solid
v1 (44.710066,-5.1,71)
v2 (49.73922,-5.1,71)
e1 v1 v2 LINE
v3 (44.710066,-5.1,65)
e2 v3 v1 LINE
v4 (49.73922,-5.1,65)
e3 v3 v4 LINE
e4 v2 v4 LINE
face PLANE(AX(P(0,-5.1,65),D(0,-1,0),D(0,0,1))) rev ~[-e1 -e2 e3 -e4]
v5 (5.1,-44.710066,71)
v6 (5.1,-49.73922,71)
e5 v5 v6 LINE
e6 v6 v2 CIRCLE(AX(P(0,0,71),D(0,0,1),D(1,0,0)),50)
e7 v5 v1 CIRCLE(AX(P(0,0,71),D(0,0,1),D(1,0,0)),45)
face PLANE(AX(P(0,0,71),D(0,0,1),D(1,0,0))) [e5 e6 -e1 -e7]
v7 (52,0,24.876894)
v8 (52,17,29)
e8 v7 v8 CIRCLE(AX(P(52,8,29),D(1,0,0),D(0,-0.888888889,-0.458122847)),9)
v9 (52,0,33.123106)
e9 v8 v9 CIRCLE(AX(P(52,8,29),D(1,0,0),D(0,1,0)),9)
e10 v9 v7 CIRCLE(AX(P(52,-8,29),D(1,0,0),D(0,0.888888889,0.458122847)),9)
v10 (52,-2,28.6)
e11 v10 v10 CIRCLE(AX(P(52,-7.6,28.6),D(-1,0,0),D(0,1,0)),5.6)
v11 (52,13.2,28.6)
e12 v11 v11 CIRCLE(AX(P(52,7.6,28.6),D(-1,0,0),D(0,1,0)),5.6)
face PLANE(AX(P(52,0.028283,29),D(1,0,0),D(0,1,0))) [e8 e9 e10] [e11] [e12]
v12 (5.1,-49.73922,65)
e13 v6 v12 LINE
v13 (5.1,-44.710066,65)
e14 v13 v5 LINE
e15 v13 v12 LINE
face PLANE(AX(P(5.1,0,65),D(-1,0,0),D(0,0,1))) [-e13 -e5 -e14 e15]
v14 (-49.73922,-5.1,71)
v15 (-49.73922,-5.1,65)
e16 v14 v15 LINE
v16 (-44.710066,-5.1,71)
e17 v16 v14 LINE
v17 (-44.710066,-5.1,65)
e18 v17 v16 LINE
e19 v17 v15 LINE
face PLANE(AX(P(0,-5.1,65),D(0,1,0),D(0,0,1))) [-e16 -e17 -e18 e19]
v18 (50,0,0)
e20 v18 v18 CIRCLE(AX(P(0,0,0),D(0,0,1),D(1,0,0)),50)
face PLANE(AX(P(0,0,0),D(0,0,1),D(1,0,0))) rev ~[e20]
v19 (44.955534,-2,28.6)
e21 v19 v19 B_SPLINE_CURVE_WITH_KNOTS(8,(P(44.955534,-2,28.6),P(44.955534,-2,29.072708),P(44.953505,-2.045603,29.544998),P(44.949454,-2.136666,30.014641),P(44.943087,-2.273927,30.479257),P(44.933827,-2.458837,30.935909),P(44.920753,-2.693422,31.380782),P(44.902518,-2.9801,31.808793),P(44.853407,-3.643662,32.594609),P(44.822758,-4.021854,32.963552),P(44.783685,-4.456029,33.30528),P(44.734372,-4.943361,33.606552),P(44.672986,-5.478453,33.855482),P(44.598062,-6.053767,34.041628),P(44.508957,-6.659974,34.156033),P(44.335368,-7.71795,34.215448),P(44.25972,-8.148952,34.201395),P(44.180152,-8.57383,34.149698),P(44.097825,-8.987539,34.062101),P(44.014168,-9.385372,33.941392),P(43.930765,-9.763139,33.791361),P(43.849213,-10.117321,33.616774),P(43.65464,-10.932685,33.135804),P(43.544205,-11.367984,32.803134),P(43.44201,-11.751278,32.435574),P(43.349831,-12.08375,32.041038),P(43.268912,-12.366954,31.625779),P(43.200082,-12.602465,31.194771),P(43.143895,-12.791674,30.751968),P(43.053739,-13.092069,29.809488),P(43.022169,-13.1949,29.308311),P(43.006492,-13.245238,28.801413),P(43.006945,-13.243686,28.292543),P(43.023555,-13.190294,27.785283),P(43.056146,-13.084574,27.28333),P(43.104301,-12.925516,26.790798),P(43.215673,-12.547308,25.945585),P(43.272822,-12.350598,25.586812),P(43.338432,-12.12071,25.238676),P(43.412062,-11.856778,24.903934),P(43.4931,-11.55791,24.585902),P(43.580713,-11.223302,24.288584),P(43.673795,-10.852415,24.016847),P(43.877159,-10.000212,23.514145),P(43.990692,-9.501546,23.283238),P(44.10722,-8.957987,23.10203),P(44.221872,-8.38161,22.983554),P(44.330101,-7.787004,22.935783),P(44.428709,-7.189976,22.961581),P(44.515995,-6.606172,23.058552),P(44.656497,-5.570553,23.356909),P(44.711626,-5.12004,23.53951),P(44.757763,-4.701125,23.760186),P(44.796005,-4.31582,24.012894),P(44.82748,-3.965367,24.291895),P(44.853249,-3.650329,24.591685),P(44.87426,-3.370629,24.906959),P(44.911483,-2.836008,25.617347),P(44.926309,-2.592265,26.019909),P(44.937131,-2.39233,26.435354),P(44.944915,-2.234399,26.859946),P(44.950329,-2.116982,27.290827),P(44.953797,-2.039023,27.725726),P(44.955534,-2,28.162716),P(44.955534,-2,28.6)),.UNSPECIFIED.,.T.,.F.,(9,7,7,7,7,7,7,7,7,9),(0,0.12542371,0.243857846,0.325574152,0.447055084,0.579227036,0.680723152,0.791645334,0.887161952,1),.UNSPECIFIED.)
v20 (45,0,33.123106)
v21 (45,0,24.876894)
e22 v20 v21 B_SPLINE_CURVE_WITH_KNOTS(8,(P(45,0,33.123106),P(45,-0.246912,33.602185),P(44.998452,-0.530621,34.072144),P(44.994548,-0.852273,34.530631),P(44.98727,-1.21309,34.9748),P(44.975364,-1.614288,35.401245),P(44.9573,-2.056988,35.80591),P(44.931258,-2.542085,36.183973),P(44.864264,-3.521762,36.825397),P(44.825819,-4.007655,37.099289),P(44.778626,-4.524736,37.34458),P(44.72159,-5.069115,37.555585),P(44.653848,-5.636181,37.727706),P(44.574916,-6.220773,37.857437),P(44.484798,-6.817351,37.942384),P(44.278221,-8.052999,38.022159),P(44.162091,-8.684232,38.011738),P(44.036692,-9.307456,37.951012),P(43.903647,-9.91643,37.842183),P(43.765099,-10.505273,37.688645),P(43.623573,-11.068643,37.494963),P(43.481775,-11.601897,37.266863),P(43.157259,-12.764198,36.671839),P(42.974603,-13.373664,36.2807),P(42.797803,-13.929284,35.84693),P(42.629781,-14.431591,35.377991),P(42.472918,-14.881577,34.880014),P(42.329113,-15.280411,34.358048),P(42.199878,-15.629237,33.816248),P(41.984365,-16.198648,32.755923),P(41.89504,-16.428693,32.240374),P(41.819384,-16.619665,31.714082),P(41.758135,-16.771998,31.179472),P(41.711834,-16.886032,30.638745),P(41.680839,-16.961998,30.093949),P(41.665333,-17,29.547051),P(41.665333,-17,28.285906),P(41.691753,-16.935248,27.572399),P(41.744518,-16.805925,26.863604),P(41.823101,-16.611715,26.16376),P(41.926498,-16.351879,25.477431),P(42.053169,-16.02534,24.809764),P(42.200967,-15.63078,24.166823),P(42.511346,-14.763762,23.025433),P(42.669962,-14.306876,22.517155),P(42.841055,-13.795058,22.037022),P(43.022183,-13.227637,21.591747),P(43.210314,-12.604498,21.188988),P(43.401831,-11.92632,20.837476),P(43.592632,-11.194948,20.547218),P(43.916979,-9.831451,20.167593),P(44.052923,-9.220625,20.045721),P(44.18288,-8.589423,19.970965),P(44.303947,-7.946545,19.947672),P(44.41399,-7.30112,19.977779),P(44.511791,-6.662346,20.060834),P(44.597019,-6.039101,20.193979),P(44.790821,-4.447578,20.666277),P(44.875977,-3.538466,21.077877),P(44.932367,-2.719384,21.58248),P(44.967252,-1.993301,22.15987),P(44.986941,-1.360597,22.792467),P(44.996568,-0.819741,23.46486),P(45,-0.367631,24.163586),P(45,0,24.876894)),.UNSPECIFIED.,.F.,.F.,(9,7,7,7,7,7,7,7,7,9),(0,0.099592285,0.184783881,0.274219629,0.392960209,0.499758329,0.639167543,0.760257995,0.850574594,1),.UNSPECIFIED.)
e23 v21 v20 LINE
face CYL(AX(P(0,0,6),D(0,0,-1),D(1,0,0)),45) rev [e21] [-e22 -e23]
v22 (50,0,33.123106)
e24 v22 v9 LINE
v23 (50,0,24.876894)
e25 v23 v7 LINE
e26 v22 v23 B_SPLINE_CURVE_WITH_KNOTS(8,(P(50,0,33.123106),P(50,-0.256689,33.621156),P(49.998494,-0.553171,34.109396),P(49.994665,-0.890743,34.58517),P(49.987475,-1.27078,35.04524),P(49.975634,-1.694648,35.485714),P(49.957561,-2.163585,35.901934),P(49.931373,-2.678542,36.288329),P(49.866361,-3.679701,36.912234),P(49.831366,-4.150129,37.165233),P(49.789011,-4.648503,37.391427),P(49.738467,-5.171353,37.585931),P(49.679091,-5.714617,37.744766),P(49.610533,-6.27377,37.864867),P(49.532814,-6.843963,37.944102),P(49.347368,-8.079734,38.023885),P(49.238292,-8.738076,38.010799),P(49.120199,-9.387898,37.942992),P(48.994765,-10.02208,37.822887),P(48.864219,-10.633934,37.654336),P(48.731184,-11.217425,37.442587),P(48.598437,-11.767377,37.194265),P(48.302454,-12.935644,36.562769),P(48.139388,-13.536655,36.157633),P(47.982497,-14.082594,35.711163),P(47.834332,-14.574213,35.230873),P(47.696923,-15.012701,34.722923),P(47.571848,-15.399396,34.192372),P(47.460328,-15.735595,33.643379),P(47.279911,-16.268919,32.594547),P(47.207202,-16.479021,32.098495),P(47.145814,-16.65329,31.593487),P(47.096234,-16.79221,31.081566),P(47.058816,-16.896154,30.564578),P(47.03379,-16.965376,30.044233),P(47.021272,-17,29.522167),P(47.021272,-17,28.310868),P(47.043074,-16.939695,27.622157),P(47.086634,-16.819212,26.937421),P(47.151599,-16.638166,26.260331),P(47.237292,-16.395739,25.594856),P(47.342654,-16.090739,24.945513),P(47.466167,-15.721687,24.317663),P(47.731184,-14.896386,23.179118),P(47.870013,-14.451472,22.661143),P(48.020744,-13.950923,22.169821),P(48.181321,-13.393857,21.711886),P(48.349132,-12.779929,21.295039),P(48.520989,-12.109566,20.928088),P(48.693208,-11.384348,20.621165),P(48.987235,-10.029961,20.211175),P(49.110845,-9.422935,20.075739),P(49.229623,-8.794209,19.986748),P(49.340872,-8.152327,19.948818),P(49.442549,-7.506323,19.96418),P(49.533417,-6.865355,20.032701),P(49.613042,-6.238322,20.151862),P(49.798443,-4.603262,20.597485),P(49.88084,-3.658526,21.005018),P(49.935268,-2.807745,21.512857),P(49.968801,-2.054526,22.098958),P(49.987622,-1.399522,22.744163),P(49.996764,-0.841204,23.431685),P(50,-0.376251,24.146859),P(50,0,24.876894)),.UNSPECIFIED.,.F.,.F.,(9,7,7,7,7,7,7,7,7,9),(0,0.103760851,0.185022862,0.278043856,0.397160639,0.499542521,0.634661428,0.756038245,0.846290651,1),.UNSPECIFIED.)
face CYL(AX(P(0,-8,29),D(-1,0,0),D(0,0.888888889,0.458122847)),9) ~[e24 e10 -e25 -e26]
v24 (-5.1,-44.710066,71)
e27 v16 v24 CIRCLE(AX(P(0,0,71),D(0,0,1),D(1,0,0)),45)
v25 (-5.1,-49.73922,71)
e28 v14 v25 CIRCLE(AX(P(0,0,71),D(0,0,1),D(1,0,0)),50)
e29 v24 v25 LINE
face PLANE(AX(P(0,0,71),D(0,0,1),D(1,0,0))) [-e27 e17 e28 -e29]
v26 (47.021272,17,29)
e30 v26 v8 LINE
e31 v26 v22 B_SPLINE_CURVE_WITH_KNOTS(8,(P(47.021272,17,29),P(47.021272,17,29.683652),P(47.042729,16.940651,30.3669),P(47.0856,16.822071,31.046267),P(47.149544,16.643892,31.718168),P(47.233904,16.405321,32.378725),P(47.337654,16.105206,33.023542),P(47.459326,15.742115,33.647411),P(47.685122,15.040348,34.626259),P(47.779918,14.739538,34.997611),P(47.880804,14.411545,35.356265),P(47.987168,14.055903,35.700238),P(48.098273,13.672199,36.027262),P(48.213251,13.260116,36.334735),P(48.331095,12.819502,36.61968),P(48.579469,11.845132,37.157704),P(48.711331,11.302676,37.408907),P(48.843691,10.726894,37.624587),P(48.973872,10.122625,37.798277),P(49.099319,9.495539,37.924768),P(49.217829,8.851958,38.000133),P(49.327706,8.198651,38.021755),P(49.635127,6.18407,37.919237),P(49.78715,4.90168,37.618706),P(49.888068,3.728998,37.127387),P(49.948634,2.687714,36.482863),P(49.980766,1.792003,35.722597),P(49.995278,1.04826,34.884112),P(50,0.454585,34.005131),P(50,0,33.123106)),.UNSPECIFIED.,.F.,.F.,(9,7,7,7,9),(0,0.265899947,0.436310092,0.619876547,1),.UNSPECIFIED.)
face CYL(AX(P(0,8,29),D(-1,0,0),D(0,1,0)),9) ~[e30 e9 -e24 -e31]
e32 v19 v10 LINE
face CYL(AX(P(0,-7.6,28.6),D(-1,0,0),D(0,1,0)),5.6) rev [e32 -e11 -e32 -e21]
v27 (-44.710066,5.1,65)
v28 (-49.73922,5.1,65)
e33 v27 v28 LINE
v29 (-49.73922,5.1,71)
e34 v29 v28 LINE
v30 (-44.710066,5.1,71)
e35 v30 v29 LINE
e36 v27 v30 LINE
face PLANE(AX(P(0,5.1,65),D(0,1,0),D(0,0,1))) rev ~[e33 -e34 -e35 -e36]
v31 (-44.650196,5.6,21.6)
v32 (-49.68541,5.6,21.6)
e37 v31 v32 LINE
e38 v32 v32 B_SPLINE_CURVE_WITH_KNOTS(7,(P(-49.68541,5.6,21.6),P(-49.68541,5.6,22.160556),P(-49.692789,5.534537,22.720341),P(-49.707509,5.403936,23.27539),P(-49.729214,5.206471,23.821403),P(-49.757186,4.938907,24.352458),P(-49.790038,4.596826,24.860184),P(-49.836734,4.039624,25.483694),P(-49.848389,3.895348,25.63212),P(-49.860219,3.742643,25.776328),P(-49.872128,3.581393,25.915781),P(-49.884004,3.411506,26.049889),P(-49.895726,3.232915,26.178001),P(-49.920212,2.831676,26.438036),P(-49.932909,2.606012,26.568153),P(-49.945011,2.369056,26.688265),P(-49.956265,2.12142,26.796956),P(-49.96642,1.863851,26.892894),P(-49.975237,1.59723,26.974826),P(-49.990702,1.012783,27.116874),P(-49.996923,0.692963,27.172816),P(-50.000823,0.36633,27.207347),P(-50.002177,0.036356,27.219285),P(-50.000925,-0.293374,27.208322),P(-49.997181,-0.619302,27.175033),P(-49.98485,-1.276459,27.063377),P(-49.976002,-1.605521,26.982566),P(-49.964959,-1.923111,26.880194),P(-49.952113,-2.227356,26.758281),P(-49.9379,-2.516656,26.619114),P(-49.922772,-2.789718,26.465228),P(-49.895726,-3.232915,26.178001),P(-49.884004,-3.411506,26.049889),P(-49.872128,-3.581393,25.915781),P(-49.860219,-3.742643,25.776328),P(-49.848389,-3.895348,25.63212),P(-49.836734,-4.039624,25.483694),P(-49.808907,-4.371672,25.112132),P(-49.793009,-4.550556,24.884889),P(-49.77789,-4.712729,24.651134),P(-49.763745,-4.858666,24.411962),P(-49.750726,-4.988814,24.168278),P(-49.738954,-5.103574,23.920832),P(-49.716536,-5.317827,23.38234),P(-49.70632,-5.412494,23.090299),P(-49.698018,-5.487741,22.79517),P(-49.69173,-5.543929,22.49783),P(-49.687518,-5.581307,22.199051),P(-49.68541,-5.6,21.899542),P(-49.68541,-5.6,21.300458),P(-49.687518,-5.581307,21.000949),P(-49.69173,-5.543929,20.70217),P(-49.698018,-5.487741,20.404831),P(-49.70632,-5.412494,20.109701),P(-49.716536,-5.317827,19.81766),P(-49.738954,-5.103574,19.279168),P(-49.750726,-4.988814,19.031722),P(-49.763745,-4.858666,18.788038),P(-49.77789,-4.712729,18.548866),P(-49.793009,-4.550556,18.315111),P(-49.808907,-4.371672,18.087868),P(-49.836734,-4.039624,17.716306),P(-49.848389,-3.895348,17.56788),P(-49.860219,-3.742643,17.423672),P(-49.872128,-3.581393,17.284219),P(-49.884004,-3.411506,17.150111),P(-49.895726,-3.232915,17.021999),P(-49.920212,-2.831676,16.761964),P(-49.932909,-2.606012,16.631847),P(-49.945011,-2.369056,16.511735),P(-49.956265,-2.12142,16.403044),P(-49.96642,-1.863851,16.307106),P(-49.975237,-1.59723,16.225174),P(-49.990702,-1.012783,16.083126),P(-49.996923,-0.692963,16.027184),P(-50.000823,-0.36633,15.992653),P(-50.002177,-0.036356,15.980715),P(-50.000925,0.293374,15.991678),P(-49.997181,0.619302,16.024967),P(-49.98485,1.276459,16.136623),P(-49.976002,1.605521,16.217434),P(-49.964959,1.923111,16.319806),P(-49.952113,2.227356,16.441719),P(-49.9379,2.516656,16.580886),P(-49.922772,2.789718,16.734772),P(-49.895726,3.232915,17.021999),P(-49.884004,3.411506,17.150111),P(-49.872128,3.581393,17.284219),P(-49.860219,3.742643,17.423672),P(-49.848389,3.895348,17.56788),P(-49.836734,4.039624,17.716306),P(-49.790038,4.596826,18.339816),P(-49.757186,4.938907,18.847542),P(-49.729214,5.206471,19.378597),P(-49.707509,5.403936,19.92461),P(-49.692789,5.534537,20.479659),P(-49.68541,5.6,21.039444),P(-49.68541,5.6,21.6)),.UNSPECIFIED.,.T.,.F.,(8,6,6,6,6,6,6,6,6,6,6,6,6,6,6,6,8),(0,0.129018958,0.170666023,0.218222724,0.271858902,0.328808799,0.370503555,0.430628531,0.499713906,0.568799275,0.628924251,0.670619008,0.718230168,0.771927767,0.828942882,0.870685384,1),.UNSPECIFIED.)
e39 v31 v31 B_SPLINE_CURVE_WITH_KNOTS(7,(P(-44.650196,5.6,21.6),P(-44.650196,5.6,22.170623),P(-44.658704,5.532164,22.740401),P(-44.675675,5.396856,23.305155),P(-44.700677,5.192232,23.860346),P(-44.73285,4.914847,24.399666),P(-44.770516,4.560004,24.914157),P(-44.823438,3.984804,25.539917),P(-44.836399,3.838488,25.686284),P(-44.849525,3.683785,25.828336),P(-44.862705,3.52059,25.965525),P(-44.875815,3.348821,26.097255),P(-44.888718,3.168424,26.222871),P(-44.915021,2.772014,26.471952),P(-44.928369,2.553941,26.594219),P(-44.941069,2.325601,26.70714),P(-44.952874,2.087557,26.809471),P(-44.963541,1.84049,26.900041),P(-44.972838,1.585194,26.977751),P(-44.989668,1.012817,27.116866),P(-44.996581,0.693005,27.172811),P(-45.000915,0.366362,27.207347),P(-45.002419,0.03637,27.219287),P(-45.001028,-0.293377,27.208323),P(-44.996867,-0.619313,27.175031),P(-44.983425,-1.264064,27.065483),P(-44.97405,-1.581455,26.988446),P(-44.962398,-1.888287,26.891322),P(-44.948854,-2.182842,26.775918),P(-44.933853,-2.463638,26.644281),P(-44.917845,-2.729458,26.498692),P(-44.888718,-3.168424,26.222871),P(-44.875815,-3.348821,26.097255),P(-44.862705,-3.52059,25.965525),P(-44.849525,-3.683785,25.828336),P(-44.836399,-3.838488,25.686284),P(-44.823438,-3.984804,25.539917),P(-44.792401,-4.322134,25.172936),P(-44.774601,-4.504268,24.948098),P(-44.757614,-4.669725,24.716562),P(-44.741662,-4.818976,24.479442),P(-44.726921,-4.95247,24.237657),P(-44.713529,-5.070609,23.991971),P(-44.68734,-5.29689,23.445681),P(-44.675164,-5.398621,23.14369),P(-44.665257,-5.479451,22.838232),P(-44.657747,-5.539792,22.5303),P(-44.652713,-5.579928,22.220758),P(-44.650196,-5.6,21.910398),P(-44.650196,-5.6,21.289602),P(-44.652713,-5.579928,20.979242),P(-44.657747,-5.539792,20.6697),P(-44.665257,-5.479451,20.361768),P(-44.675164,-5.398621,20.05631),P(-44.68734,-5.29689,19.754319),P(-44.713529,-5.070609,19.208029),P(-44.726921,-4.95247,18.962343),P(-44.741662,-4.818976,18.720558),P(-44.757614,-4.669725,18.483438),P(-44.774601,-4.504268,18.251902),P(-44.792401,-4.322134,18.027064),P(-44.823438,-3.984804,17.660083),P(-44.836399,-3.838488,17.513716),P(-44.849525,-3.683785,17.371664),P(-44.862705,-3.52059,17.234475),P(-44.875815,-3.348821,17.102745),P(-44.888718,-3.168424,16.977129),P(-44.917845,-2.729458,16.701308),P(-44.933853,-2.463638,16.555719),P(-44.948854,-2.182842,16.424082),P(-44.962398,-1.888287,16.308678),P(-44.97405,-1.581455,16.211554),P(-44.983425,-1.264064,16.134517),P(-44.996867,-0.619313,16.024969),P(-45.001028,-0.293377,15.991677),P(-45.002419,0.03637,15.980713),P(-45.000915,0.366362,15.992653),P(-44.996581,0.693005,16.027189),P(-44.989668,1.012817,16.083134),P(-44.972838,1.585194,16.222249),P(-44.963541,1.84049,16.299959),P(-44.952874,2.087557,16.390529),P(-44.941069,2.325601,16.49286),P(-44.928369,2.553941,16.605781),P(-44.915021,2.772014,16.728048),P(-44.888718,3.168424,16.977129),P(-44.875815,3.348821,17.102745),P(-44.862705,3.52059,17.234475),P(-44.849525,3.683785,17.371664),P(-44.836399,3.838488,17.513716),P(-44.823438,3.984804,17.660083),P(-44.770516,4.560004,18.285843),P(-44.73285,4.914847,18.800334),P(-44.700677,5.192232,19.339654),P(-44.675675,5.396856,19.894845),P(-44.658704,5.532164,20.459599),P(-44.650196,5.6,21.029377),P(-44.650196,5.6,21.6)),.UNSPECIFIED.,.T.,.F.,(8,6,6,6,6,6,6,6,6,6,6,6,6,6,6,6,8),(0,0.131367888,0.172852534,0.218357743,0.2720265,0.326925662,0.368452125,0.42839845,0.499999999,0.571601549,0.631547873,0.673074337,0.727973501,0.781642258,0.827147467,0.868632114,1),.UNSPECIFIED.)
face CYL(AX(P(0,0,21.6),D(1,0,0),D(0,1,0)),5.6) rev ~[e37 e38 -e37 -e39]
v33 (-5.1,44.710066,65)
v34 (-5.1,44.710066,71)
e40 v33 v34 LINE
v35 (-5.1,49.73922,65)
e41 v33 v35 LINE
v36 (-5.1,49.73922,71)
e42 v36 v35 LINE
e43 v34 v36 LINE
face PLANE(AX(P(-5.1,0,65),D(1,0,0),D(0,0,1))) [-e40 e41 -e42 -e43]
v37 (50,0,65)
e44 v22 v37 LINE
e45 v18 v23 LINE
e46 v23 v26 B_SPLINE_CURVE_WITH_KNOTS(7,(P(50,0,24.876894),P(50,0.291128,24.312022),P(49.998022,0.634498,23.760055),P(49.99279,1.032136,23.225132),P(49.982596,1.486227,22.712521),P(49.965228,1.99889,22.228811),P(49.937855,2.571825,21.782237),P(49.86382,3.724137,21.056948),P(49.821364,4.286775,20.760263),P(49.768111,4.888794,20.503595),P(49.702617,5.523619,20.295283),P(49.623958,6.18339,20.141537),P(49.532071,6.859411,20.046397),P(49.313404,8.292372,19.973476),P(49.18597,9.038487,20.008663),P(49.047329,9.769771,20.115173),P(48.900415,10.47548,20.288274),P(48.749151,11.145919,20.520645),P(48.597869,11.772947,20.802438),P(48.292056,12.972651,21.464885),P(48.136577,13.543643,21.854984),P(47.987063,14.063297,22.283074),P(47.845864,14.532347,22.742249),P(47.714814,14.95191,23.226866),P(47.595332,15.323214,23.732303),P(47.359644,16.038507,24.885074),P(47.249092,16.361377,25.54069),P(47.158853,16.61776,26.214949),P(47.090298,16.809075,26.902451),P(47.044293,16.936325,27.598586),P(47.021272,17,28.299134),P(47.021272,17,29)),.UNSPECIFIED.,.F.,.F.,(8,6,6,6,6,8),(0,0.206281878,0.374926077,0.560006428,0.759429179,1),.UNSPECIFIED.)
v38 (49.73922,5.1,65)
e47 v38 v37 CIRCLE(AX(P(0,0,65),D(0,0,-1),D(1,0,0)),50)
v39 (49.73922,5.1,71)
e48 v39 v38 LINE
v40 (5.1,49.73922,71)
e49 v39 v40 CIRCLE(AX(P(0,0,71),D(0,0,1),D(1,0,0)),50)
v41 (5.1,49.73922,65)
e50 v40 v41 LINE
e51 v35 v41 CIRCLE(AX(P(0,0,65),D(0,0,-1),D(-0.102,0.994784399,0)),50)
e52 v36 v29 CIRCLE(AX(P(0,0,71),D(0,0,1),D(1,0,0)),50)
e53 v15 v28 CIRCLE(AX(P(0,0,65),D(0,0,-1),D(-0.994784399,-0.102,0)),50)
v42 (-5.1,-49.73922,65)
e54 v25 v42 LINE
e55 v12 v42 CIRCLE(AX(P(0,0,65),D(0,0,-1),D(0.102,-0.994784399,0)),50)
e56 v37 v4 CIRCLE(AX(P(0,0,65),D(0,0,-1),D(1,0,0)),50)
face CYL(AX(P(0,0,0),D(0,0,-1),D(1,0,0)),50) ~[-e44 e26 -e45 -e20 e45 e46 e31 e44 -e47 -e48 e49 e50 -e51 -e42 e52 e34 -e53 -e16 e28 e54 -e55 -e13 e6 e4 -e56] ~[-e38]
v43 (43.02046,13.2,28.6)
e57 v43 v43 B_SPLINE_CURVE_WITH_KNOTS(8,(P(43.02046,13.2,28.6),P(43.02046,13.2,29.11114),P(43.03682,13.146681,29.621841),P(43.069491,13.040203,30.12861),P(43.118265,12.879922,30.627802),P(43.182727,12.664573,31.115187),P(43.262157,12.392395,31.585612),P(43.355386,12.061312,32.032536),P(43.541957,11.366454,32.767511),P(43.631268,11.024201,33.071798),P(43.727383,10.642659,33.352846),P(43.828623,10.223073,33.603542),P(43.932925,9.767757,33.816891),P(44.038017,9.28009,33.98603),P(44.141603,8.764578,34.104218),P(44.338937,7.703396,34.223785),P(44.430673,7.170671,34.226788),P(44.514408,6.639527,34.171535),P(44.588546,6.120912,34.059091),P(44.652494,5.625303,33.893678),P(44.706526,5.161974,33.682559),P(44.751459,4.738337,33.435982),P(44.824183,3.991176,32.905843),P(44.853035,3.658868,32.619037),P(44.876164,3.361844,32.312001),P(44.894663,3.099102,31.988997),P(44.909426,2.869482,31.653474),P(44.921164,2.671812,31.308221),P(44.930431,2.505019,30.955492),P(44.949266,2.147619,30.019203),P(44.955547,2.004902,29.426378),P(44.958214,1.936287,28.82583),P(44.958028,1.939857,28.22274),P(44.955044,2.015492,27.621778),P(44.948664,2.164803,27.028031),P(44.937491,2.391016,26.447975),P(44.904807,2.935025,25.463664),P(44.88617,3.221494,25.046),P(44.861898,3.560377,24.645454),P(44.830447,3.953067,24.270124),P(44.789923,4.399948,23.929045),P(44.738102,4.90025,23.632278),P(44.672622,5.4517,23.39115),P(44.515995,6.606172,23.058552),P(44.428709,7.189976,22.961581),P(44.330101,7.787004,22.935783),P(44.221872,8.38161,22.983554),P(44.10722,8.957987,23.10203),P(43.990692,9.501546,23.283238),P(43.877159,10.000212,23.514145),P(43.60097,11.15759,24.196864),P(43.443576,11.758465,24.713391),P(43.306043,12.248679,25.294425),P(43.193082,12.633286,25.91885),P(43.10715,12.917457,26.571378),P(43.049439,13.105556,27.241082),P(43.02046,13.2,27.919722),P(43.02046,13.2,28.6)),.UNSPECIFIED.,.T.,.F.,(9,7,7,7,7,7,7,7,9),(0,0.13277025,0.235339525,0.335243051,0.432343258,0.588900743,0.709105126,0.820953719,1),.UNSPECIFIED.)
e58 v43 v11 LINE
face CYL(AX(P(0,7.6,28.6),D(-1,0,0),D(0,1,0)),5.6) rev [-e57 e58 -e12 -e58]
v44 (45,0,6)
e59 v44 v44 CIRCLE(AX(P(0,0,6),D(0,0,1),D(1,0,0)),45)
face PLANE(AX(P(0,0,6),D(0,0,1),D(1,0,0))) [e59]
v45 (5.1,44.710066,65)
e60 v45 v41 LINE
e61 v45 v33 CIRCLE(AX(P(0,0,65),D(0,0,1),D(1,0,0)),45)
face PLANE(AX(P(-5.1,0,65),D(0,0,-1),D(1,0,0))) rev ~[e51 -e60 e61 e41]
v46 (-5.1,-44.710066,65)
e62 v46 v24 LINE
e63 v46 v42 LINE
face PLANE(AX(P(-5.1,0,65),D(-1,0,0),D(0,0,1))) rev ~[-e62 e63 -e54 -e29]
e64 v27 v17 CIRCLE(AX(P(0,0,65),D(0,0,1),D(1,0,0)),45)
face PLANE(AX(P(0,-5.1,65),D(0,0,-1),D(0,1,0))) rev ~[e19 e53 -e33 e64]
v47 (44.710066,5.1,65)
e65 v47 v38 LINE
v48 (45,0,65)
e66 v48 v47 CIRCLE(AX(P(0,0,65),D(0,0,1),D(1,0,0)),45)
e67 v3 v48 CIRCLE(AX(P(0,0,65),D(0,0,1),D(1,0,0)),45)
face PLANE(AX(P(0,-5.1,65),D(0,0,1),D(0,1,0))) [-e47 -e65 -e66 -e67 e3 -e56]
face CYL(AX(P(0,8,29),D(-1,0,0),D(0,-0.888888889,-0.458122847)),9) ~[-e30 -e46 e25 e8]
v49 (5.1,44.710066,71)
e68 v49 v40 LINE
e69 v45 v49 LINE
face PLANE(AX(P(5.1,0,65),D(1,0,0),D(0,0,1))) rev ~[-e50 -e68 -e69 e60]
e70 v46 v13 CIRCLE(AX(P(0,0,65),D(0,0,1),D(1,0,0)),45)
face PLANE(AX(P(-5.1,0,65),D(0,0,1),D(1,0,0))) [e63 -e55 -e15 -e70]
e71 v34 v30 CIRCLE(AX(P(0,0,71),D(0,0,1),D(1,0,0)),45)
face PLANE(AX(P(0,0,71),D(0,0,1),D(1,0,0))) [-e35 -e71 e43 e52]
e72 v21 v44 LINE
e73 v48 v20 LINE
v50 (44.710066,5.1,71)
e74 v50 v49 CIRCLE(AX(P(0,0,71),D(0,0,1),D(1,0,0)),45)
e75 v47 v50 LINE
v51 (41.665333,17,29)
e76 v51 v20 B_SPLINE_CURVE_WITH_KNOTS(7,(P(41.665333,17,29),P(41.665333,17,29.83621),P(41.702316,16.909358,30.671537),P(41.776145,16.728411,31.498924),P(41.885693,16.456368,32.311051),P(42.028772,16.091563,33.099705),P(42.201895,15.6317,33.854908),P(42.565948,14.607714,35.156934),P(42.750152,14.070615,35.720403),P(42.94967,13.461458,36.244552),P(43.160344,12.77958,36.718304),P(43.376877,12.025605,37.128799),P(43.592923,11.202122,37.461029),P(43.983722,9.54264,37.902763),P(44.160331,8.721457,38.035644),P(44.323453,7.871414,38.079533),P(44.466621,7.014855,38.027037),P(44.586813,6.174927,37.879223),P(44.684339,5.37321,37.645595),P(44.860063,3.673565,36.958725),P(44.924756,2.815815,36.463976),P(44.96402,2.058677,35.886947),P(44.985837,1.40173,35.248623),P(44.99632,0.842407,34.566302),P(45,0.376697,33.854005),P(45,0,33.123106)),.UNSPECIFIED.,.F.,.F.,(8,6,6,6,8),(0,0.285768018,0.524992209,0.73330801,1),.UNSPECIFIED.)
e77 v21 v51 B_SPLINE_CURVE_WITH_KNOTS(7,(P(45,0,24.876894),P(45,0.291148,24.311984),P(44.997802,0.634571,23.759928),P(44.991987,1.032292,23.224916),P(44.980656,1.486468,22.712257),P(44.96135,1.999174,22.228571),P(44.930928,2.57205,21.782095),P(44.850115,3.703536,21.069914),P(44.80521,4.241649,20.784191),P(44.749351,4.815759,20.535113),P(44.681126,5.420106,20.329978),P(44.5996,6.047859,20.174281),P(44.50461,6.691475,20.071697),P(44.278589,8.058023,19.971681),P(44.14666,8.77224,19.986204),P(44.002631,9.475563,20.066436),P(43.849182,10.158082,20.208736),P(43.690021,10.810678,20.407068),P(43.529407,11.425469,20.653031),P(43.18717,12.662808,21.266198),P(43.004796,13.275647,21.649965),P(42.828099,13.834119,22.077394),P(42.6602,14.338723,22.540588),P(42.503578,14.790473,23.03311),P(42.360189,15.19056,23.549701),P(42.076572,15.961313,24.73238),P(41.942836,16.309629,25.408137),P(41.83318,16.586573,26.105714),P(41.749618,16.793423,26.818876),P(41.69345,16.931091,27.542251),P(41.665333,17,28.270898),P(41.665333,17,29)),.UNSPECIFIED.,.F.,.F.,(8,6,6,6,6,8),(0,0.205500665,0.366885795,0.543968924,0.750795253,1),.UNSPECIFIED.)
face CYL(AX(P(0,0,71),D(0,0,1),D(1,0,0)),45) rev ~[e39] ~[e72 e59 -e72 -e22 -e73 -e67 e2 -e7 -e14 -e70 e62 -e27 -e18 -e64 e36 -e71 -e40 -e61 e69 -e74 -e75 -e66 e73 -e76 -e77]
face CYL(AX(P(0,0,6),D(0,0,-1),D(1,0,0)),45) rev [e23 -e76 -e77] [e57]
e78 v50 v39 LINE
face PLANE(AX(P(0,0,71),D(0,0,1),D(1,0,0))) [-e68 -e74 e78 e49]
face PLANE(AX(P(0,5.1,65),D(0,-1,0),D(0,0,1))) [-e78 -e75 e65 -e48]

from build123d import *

# Parameters (mm, degrees)
F0_R      = 50
F1_DEPTH  = 71
F2_R      = 45
F3_DEPTH  = 65
F4_W      = 10.2
F4_H      = 6
F5_DEPTH  = 50
F6_W      = 10.2
F6_H      = 6
F7_DEPTH  = 50
F8_W      = 10.2
F8_H      = 6
F9_DEPTH  = 50
F10_W     = 10.2
F10_H     = 6
F11_DEPTH = 50
F12_R     = 5.6
F13_DEPTH = 55
F14_R     = 5.6
F15_DEPTH = 56
F17_DEPTH = 52
F18_DEPTH = 55
F19_R     = 45
F20_DEPTH = 50


with BuildPart() as f1:
    # F0 (on Top) → F1 (new body)
    with BuildSketch(Plane.XY):
        Circle(F0_R)
    extrude(amount=F1_DEPTH)

    # F2 (on face) → F3 (cut)
    with BuildSketch(Plane.XY.offset(71)):
        Circle(F2_R)
    extrude(amount=-F3_DEPTH, mode=Mode.SUBTRACT)

    # F4 (on Front) → F5 (cut)
    with BuildSketch(Plane.XZ):
        with Locations((0, 68)):
            Rectangle(F4_W, F4_H)
    extrude(amount=-F5_DEPTH, mode=Mode.SUBTRACT)

    # F6 (on Front) → F7 (cut)
    with BuildSketch(Plane.XZ):
        with Locations((0, 68)):
            Rectangle(F6_W, F6_H)
    extrude(amount=F7_DEPTH, mode=Mode.SUBTRACT)

    # F8 (on Right) → F9 (cut)
    with BuildSketch(Plane.YZ):
        with Locations((0, 68)):
            Rectangle(F8_W, F8_H)
    extrude(amount=-F9_DEPTH, mode=Mode.SUBTRACT)

    # F10 (on Right) → F11 (cut)
    with BuildSketch(Plane.YZ):
        with Locations((0, 68)):
            Rectangle(F10_W, F10_H)
    extrude(amount=F11_DEPTH, mode=Mode.SUBTRACT)

    # F12 (on Right) → F13 (cut)
    with BuildSketch(Plane.YZ):
        with Locations((0, 21.6)):
            Circle(F12_R)
    extrude(amount=-F13_DEPTH, mode=Mode.SUBTRACT)

    # F14 (on Right) → F15 (cut)
    with BuildSketch(Plane.YZ):
        with Locations((-7.6, 28.6)):
            Circle(F14_R)
        with Locations((7.6, 28.6)):
            Circle(F14_R)
    extrude(amount=F15_DEPTH, mode=Mode.SUBTRACT)

    # F16 (on Right) → F17 (join)
    with BuildSketch(Plane.YZ):
        with BuildLine():
            ThreePointArc((0, 24.8768943744), (0.7464278423, 26.8786796564), (1, 29))
            ThreePointArc((1, 29), (0.7464278423, 31.1213203436), (0, 33.1231056256))
            ThreePointArc((0, 33.1231056256), (-1, 29), (0, 24.8768943744))
        make_face()
        with BuildLine():
            ThreePointArc((0, 33.1231056256), (0.7464278423, 31.1213203436), (1, 29))
            ThreePointArc((1, 29), (0.7464278423, 26.8786796564), (0, 24.8768943744))
            ThreePointArc((0, 24.8768943744), (10.1213203436, 20.2535721577), (17, 29))
            ThreePointArc((17, 29), (10.1213203436, 37.7464278423), (0, 33.1231056256))
        make_face()
        with BuildLine():
            ThreePointArc((0, 24.8768943744), (-1, 29), (0, 33.1231056256))
            ThreePointArc((0, 33.1231056256), (-17, 29), (0, 24.8768943744))
        make_face()
    extrude(amount=F17_DEPTH)

    # F14 (on Right) → F18 (cut)
    with BuildSketch(Plane.YZ):
        with Locations((-7.6, 28.6)):
            Circle(F14_R)
        with Locations((7.6, 28.6)):
            Circle(F14_R)
    extrude(amount=F18_DEPTH, mode=Mode.SUBTRACT)

    # F19 (on face) → F20 (cut)
    with BuildSketch(Plane.XY.offset(6)):
        Circle(F19_R)
    extrude(amount=F20_DEPTH, mode=Mode.SUBTRACT)


solid = f1.part
